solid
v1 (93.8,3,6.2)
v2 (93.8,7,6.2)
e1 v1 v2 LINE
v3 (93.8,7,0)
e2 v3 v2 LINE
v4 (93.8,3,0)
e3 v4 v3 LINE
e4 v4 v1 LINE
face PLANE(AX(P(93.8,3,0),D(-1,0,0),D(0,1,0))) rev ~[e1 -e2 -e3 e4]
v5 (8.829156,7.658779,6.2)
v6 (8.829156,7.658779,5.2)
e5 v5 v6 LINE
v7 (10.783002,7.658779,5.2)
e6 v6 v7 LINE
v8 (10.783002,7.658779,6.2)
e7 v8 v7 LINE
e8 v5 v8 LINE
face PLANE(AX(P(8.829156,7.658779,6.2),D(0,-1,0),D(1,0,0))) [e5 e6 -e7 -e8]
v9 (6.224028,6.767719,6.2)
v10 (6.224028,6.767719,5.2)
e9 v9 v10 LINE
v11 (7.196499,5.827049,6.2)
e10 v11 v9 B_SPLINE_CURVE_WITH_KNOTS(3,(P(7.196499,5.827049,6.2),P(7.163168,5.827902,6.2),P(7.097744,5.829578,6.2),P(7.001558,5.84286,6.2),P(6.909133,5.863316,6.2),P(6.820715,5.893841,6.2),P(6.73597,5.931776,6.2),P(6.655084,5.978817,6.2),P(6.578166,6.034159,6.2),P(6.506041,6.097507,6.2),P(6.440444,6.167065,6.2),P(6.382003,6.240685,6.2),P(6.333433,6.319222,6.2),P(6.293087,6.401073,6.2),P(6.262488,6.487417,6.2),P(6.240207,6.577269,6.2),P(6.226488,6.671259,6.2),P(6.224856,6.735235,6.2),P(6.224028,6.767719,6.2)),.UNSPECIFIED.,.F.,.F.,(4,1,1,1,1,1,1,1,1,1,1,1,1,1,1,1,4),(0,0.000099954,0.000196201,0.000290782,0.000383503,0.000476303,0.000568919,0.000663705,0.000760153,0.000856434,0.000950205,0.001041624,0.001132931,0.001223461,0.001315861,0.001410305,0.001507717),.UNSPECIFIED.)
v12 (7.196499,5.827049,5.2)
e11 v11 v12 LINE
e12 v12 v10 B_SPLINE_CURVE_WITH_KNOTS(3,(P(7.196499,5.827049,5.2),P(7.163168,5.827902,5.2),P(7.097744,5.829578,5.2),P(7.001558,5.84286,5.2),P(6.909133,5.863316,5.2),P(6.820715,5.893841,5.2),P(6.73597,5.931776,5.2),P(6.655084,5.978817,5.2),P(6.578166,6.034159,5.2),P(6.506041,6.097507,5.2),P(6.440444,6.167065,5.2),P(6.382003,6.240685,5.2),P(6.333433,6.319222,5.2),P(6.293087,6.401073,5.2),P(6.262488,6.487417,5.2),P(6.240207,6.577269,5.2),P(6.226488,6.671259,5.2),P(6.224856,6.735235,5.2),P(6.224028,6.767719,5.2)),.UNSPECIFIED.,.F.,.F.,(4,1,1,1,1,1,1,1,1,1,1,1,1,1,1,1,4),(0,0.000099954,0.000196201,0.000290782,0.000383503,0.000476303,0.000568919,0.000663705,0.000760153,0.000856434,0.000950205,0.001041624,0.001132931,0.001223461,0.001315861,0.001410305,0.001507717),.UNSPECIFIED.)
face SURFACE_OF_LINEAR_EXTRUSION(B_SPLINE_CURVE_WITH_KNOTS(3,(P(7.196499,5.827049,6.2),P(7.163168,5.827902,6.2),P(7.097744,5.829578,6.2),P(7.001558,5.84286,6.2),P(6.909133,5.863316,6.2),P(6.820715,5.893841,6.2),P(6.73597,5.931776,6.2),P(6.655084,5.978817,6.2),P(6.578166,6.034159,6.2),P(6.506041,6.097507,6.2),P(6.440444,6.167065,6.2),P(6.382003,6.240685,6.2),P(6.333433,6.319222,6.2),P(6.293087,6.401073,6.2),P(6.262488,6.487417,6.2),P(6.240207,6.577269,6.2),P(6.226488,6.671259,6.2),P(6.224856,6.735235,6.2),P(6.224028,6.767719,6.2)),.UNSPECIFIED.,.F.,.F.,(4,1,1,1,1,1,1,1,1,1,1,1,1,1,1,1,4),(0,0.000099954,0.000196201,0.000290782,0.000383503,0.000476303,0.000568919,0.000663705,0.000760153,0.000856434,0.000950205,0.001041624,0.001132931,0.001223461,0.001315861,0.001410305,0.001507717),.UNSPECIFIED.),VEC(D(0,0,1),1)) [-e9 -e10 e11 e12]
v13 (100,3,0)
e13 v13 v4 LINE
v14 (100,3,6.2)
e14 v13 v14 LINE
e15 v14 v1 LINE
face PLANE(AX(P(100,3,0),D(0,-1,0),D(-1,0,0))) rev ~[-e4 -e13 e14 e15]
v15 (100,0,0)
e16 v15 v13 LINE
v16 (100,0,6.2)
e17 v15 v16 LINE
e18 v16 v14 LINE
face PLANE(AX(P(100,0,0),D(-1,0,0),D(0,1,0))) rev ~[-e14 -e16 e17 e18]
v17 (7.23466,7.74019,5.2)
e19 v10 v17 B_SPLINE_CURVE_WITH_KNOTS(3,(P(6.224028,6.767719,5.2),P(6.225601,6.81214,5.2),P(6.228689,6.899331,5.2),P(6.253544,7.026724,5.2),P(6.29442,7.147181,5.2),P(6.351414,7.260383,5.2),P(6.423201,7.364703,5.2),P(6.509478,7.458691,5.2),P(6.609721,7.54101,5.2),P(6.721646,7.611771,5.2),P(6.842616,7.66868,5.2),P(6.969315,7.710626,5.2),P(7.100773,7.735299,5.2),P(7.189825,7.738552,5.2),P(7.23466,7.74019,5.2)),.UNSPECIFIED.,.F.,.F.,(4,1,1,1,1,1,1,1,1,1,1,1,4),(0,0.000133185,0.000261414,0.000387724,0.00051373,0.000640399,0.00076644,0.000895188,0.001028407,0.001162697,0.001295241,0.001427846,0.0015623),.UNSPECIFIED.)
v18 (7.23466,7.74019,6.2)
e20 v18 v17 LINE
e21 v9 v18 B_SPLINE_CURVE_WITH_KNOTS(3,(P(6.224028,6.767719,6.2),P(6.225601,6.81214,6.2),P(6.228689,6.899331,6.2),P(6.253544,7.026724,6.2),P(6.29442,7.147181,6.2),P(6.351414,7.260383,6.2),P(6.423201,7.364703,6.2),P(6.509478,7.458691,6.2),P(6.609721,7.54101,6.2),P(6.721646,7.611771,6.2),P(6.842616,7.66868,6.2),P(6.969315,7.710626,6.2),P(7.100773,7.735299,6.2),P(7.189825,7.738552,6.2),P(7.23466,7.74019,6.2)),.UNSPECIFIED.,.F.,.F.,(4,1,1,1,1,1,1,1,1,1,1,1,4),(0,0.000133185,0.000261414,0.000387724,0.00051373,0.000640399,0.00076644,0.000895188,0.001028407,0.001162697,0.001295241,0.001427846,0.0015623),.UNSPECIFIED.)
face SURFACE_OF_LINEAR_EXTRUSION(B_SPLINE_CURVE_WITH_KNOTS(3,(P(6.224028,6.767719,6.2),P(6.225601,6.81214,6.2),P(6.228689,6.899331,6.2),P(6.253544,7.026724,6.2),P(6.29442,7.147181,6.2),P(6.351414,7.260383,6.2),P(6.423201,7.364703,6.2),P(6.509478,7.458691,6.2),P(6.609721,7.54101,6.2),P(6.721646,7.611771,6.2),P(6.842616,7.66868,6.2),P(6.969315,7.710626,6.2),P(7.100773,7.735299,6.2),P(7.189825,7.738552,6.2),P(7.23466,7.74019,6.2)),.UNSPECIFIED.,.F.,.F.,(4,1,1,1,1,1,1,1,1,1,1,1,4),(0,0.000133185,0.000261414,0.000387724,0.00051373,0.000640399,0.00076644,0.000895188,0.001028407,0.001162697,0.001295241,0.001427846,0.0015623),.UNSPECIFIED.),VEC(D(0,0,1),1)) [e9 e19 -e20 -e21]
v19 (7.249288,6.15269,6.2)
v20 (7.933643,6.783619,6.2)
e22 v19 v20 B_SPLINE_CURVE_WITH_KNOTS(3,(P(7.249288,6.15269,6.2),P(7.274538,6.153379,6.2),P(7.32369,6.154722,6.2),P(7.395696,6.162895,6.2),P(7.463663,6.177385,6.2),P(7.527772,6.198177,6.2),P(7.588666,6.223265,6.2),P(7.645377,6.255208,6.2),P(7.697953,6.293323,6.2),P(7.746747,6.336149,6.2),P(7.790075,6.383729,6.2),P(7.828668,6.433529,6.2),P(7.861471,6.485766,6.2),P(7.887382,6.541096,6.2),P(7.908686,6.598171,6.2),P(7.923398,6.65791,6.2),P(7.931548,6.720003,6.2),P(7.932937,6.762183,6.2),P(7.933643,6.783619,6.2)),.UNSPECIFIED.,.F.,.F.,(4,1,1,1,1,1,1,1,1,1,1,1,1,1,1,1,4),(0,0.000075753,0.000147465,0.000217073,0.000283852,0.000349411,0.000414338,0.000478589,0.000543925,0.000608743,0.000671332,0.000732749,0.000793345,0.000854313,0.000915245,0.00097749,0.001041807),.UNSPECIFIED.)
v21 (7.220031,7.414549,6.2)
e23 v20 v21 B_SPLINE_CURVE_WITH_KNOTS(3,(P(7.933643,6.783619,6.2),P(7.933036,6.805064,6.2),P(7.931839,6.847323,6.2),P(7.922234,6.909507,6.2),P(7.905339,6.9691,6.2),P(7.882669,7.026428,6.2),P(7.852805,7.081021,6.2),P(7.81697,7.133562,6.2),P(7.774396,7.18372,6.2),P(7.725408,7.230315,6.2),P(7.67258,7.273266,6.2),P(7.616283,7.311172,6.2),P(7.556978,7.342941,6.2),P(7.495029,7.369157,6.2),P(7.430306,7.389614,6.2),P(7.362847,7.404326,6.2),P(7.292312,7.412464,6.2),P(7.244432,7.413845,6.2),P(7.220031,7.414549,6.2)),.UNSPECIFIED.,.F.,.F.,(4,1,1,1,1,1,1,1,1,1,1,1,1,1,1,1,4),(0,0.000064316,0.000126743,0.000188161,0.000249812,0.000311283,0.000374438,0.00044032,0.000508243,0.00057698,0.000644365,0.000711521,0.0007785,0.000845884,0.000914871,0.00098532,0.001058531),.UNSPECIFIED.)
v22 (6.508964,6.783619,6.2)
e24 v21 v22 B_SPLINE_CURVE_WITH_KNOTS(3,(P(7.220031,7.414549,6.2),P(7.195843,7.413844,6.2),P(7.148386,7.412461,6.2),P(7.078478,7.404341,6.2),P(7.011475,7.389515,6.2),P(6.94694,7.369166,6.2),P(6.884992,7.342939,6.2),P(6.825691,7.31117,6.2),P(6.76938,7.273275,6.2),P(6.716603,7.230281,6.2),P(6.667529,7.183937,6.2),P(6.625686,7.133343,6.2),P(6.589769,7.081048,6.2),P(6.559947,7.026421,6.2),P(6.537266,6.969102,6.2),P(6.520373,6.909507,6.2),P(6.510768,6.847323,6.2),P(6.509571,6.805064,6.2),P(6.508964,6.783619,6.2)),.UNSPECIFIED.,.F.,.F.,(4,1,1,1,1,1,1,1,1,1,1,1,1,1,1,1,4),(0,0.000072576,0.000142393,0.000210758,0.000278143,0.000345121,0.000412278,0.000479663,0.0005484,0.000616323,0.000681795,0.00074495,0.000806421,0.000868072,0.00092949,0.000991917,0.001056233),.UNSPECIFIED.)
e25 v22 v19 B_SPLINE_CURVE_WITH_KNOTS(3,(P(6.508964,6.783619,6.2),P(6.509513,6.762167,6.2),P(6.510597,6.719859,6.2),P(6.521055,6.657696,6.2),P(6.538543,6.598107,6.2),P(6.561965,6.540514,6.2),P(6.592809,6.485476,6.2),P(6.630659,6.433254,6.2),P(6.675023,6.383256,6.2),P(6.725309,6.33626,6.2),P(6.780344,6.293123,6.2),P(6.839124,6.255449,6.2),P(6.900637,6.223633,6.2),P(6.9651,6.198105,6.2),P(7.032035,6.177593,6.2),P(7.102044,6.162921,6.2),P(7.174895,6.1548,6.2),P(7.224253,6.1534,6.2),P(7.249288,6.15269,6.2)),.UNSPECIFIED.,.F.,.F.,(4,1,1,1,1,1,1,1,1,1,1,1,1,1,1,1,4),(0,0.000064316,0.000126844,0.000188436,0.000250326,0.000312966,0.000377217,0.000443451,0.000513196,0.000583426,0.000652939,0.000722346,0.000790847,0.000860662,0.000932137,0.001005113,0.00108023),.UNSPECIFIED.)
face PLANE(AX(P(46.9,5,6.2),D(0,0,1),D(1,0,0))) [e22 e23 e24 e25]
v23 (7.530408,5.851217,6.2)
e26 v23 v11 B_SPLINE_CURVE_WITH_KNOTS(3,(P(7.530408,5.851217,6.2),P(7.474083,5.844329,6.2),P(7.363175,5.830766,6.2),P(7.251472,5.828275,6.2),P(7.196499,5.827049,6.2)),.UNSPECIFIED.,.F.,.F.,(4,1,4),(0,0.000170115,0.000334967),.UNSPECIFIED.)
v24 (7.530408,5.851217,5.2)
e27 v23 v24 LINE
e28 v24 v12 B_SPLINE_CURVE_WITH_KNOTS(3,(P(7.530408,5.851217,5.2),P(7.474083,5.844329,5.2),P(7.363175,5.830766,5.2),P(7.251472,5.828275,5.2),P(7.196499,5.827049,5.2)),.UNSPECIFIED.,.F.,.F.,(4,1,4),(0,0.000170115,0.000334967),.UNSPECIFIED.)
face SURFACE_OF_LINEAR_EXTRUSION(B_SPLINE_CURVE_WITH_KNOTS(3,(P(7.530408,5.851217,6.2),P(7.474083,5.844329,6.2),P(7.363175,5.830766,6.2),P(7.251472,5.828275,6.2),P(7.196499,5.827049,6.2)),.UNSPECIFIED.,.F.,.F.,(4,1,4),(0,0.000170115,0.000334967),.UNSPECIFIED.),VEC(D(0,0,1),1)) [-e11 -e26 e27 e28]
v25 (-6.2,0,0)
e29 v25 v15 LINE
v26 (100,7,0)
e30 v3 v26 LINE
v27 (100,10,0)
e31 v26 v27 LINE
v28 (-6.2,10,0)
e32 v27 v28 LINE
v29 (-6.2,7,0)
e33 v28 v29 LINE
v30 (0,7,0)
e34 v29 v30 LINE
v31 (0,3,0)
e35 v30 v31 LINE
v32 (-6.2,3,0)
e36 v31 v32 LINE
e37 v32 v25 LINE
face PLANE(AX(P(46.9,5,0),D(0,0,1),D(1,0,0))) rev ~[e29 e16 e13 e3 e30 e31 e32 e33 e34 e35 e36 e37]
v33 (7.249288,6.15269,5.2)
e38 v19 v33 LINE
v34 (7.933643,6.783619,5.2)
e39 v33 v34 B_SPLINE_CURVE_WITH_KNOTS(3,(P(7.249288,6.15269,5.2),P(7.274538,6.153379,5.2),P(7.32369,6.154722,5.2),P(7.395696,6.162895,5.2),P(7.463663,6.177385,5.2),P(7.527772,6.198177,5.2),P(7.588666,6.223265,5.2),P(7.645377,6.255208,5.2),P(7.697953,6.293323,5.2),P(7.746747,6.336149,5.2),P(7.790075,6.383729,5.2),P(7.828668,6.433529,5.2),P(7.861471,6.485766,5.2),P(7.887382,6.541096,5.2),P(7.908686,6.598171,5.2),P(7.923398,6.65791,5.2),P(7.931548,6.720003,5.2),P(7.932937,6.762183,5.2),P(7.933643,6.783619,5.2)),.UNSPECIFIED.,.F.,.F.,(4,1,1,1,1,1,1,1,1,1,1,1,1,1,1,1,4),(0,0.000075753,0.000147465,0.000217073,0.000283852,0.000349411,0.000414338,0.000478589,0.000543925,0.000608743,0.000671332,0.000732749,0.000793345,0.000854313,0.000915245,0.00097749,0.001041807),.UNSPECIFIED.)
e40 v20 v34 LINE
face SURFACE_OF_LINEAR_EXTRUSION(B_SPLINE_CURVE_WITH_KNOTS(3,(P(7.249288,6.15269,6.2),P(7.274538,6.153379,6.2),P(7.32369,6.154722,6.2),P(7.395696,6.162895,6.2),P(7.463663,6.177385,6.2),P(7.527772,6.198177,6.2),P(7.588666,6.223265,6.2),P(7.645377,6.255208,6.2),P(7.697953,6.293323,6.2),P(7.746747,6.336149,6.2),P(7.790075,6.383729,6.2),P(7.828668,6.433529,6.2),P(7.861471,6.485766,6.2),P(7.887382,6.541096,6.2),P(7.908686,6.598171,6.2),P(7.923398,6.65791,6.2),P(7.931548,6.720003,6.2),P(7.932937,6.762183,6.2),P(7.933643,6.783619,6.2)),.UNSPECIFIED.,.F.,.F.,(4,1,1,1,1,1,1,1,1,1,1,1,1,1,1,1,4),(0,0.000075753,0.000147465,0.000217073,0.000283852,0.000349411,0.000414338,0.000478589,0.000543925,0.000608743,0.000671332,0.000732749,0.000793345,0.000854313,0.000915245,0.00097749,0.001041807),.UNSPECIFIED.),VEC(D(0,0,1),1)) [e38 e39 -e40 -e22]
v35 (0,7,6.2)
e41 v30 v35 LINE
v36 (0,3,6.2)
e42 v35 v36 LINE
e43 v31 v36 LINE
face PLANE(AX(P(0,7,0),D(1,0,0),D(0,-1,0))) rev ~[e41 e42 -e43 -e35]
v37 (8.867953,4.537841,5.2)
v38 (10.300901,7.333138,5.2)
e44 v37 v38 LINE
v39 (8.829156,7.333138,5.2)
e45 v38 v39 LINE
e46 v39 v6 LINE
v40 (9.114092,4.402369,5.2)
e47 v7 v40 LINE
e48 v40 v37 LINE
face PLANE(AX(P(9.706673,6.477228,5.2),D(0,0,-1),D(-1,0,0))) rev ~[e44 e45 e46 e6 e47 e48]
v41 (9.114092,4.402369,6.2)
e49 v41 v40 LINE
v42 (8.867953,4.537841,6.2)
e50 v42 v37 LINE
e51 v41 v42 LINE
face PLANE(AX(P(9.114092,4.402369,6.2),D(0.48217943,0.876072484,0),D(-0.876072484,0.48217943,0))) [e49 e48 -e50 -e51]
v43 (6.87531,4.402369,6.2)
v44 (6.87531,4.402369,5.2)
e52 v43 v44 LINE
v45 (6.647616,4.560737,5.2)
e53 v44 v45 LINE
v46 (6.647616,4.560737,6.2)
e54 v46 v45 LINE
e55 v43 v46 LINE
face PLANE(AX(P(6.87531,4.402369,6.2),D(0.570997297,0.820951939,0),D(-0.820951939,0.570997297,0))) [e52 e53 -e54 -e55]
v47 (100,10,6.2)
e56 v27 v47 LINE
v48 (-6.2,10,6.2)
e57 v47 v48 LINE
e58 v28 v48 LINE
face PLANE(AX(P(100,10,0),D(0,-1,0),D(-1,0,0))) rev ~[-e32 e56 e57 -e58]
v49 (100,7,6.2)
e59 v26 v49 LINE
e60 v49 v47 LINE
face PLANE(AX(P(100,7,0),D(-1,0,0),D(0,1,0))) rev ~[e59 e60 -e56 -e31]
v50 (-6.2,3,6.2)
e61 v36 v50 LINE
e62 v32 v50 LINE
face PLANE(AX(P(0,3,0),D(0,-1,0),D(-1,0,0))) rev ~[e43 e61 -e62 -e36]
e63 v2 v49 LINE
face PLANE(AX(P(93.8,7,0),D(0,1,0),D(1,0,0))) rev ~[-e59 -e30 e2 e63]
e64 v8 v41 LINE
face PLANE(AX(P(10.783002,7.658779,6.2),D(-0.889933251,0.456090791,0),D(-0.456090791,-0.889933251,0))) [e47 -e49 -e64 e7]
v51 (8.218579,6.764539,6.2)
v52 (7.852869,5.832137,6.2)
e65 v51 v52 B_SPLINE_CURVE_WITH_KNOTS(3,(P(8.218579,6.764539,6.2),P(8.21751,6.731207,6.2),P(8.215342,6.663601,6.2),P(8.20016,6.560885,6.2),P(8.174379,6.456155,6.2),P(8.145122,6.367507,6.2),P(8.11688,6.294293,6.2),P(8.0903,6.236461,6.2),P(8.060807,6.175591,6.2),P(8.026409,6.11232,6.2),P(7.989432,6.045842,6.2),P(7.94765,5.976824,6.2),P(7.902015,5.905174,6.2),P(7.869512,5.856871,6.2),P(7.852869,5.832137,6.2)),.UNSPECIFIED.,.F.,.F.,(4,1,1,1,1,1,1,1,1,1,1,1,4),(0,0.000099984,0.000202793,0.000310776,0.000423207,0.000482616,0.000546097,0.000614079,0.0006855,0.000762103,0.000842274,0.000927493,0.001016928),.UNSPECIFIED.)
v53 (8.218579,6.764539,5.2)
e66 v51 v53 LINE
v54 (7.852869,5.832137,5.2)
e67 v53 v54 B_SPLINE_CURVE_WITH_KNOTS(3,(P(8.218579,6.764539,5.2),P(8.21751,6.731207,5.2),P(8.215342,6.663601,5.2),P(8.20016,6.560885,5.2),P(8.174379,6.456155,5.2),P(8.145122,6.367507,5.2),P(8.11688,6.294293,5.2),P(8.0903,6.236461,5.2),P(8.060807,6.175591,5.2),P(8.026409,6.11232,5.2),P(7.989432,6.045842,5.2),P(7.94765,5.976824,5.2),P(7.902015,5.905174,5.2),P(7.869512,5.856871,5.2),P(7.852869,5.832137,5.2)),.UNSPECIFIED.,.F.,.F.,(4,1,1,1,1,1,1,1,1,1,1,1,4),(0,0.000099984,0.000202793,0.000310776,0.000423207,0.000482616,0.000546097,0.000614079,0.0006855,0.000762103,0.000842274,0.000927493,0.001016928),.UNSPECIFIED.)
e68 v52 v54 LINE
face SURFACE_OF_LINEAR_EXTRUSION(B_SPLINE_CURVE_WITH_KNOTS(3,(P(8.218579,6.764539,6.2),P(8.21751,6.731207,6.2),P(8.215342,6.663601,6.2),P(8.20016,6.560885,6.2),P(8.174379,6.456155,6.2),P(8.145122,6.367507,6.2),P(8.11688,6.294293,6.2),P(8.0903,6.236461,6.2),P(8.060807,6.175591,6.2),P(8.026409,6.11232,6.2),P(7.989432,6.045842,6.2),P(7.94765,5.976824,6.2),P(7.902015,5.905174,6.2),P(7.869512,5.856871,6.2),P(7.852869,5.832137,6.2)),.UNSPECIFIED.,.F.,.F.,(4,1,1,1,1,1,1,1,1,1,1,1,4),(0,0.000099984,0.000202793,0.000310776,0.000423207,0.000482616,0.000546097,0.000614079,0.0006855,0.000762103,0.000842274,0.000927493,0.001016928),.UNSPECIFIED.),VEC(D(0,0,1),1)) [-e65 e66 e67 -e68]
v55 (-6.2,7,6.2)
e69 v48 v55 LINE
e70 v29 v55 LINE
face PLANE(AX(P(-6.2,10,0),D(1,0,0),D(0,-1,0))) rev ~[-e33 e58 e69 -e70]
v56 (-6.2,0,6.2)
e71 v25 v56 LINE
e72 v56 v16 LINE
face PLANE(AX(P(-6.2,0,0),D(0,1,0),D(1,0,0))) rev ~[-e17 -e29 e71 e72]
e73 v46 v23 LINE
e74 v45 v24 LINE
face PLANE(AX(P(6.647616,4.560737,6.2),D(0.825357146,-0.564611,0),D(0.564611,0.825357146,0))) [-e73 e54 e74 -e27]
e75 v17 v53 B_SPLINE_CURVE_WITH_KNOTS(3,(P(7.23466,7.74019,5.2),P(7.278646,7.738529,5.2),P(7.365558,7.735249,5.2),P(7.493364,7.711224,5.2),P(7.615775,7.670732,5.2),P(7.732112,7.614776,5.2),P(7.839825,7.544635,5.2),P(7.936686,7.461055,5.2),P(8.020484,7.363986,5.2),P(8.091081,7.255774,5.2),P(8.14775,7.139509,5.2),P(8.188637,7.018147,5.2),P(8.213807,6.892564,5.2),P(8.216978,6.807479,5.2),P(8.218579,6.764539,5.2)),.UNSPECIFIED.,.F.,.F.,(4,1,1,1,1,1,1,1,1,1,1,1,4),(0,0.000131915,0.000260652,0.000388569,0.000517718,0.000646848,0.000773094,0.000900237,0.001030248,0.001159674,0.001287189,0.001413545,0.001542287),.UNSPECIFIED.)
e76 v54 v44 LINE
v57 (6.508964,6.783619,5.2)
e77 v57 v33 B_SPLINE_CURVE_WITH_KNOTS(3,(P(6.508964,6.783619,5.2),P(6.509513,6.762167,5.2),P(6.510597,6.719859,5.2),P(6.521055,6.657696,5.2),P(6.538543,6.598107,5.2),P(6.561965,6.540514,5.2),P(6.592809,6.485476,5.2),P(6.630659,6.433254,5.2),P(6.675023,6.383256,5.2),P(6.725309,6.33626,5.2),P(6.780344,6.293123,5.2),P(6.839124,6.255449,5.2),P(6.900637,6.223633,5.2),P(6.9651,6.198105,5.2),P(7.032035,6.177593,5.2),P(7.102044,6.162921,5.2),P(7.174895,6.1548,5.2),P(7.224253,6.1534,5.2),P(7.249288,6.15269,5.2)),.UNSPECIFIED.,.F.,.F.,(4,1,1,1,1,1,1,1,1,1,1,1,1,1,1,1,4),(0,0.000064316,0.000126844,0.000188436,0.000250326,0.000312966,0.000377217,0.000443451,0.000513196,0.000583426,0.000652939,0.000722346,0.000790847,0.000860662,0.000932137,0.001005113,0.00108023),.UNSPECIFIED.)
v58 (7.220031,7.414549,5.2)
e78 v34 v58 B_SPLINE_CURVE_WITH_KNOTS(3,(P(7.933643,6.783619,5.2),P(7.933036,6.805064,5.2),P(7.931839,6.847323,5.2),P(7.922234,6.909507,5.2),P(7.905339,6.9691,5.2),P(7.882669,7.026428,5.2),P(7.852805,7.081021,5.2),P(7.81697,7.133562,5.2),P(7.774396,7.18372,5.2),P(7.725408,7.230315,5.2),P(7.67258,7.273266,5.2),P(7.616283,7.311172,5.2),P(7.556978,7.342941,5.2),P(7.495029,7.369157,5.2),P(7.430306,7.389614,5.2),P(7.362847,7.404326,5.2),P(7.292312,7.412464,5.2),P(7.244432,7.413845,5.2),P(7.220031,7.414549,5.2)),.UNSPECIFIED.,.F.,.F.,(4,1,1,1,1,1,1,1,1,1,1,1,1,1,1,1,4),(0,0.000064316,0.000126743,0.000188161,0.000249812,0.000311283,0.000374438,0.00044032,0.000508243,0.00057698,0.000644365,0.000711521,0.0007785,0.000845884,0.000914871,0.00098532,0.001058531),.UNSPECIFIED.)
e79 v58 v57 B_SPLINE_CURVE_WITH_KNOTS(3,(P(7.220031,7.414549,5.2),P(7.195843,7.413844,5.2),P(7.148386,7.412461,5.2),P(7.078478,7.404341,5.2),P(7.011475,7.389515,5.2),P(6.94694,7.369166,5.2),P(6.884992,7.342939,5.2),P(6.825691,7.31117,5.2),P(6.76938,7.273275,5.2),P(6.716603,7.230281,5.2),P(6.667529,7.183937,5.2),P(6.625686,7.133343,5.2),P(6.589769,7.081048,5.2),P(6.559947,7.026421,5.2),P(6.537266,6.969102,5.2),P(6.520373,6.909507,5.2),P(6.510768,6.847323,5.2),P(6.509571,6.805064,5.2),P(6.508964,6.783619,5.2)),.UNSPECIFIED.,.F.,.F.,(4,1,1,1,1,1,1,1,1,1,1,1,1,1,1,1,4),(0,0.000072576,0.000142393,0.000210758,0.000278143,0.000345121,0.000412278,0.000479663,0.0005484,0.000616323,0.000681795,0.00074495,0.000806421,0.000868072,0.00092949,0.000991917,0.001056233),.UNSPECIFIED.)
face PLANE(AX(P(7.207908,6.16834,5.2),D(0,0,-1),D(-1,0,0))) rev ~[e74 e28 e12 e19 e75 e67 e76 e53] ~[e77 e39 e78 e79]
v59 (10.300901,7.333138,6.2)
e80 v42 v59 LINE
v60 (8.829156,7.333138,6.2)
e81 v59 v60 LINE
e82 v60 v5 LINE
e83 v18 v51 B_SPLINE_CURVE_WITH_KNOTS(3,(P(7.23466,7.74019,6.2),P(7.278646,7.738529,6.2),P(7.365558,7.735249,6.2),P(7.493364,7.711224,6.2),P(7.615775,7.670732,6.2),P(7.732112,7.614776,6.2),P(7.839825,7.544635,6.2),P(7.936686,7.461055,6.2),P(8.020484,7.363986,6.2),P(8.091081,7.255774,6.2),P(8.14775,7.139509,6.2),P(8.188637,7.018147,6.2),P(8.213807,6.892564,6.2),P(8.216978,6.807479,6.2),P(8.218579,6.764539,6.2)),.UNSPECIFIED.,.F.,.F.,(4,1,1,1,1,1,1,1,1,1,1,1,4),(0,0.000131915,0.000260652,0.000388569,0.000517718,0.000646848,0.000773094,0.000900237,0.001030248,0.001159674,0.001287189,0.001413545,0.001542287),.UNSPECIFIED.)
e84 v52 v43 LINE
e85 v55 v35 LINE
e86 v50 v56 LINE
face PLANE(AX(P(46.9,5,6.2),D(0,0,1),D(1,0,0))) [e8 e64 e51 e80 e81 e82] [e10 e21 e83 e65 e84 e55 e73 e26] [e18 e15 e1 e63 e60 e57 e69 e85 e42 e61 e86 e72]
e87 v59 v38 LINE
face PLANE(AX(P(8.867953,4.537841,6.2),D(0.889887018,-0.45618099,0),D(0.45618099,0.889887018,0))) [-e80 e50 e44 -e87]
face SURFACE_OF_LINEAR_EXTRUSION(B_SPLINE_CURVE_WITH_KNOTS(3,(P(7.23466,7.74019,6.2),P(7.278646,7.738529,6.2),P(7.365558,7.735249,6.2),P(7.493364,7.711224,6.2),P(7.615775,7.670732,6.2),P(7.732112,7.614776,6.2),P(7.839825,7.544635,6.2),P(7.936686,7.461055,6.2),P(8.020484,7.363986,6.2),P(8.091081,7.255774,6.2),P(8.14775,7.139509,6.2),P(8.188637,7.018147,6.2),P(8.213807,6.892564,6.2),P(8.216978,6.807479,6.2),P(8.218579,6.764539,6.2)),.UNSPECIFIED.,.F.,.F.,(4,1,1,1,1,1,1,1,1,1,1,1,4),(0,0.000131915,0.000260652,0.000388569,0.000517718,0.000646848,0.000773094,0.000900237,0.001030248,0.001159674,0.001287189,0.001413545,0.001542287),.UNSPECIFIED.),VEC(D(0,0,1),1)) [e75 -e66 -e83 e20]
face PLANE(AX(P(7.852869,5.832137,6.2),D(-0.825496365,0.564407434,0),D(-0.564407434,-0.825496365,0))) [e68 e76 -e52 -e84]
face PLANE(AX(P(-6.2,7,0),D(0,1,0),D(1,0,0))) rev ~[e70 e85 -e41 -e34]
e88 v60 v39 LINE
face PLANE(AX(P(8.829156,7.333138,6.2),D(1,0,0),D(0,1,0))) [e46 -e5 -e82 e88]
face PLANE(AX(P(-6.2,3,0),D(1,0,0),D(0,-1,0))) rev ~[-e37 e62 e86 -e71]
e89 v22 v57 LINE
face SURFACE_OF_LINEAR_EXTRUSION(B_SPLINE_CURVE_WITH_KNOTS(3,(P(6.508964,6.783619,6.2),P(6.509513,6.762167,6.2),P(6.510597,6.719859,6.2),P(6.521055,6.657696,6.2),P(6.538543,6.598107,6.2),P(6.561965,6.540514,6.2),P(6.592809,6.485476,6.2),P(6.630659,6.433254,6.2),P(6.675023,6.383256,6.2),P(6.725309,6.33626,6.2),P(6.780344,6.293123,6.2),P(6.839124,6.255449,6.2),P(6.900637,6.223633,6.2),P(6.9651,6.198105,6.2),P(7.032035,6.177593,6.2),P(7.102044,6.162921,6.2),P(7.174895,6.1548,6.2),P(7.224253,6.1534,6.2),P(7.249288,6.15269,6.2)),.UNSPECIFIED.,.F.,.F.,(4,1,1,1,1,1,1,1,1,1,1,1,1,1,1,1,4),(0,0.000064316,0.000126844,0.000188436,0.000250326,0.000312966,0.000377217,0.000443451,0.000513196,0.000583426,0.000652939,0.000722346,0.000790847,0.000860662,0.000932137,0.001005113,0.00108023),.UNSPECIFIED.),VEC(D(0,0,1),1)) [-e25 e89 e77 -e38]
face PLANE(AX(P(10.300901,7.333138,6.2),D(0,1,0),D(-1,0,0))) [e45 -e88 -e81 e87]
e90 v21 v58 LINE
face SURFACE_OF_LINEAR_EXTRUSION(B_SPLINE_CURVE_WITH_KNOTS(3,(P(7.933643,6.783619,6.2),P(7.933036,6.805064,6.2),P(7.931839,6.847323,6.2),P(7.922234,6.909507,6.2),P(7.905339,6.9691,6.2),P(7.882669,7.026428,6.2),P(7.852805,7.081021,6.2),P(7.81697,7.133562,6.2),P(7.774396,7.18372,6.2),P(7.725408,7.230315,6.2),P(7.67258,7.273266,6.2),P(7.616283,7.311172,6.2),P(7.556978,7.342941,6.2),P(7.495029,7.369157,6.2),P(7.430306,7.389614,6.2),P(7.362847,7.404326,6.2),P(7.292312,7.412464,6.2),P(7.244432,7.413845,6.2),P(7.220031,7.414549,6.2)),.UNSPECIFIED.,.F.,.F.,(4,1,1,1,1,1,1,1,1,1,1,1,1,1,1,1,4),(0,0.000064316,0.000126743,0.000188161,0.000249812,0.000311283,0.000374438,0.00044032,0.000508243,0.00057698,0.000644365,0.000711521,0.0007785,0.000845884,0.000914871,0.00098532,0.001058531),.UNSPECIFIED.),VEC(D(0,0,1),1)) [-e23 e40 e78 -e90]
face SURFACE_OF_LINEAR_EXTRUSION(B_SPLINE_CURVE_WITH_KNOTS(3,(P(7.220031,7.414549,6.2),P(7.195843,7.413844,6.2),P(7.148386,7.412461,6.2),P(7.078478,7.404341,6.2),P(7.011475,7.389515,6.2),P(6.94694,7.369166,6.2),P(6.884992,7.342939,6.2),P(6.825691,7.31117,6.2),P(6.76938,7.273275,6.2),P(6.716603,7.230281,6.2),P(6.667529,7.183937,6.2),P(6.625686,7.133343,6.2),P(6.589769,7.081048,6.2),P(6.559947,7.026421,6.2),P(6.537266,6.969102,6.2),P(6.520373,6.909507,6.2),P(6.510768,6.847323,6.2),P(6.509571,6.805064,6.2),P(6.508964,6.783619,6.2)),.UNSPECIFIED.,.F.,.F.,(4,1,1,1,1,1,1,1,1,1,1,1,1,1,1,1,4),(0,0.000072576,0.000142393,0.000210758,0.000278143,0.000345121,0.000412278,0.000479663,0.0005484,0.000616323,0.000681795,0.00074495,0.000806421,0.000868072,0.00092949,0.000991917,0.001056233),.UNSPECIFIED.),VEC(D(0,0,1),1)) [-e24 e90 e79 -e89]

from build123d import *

# Parameters (mm, degrees)
BOSS_EXTRUDE1_DEPTH = 6.2
CUT_EXTRUDE1_DEPTH  = 1


with BuildPart() as part:
    # Sketch1 → Boss-Extrude1 (new body)
    with BuildSketch(Plane.XY):
        Polygon((0, 3), (-6.2, 3), (-6.2, 0), (100, 0), (100, 3), (93.8, 3), (93.8, 7), (100, 7), (100, 10), (-6.2, 10), (-6.2, 7), (0, 7), align=None)
    extrude(amount=BOSS_EXTRUDE1_DEPTH)

    # Sketch2 → Cut-Extrude1 (cut)
    with BuildSketch(Plane.XY.offset(6.2)):
        with BuildLine():
            Line((6.875309832, 4.402369049), (6.647615521, 4.560737438))
            Line((6.647615521, 4.560737438), (7.530407989, 5.851217206))
            add(Edge.make_bspline(
                [(7.530407989, 5.851217206), (7.474082821, 5.844329213), (7.363175427, 5.83076637), (7.251472484, 5.828274762), (7.196498734, 5.827048536)],
                knots=[0, 0, 0, 0, 0.000170115, 0.000334967, 0.000334967, 0.000334967, 0.000334967], degree=3))
            add(Edge.make_bspline(
                [(7.196498734, 5.827048536), (7.163168448, 5.827902227), (7.097744011, 5.829577947), (7.001558154, 5.842860159), (6.909133396, 5.863316346), (6.820714766, 5.893840574), (6.735969929, 5.931775664), (6.655083889, 5.978817383), (6.578165531, 6.034158805), (6.506040952, 6.097507304), (6.440443875, 6.167065252), (6.382002741, 6.240685014), (6.333433285, 6.319221787), (6.293086668, 6.401073486), (6.262488328, 6.487416569), (6.240206598, 6.577268525), (6.226488462, 6.671259086), (6.224856425, 6.735235454), (6.22402778, 6.767718608)],
                knots=[0, 0, 0, 0, 9.9954e-05, 0.000196201, 0.000290782, 0.000383503, 0.000476303, 0.000568919, 0.000663705, 0.000760153, 0.000856434, 0.000950205, 0.001041624, 0.001132931, 0.001223461, 0.001315861, 0.001410305, 0.001507717, 0.001507717, 0.001507717, 0.001507717], degree=3))
            add(Edge.make_bspline(
                [(6.22402778, 6.767718608), (6.225601161, 6.812140172), (6.228689387, 6.89933069), (6.253543756, 7.02672418), (6.294419921, 7.147180545), (6.351414234, 7.260383078), (6.423200731, 7.364703363), (6.509477809, 7.458691172), (6.609720691, 7.541009718), (6.721645809, 7.61177056), (6.842616049, 7.668680165), (6.969315474, 7.710625816), (7.100773283, 7.735298966), (7.189825384, 7.738551854), (7.234659792, 7.740189562)],
                knots=[0, 0, 0, 0, 0.000133185, 0.000261414, 0.000387724, 0.00051373, 0.000640399, 0.00076644, 0.000895188, 0.001028407, 0.001162697, 0.001295241, 0.001427846, 0.0015623, 0.0015623, 0.0015623, 0.0015623], degree=3))
            add(Edge.make_bspline(
                [(7.234659792, 7.740189562), (7.278645715, 7.738529342), (7.365557754, 7.735248905), (7.49336421, 7.711224162), (7.61577499, 7.670732323), (7.732111513, 7.614775612), (7.839825123, 7.544634503), (7.936686037, 7.461055328), (8.020483848, 7.363986028), (8.091081225, 7.255774326), (8.147750476, 7.139508565), (8.188637476, 7.018147435), (8.213806734, 6.892563738), (8.216978402, 6.807478751), (8.218579062, 6.76453852)],
                knots=[0, 0, 0, 0, 0.000131915, 0.000260652, 0.000388569, 0.000517718, 0.000646848, 0.000773094, 0.000900237, 0.001030248, 0.001159674, 0.001287189, 0.001413545, 0.001542287, 0.001542287, 0.001542287, 0.001542287], degree=3))
            add(Edge.make_bspline(
                [(8.218579062, 6.76453852), (8.217510077, 6.731206674), (8.215341908, 6.663601362), (8.200159687, 6.560885266), (8.174378519, 6.456154507), (8.14512162, 6.36750706), (8.116880297, 6.294292966), (8.090299985, 6.236461176), (8.060806817, 6.175590744), (8.02640908, 6.112319945), (7.989431853, 6.045842216), (7.947649509, 5.976824324), (7.902015169, 5.905173652), (7.869512495, 5.856870936), (7.852868926, 5.832136677)],
                knots=[0, 0, 0, 0, 9.9984e-05, 0.000202793, 0.000310776, 0.000423207, 0.000482616, 0.000546097, 0.000614079, 0.0006855, 0.000762103, 0.000842274, 0.000927493, 0.001016928, 0.001016928, 0.001016928, 0.001016928], degree=3))
            Line((7.852868926, 5.832136677), (6.875309832, 4.402369049))
        make_face()
        with BuildLine():
            add(Edge.make_bspline(
                [(7.249288197, 6.152689562), (7.274537624, 6.153379338), (7.323689675, 6.154722099), (7.395696225, 6.162894769), (7.463663181, 6.177385456), (7.5277721, 6.198176909), (7.588665789, 6.223265459), (7.64537703, 6.25520776), (7.697953284, 6.293322851), (7.746746618, 6.336149079), (7.790075389, 6.383729251), (7.828667995, 6.43352877), (7.861470796, 6.485766237), (7.887381769, 6.541095839), (7.908685633, 6.598170736), (7.923397687, 6.657910044), (7.931547761, 6.720002521), (7.932937118, 6.762183447), (7.933643165, 6.783619049)],
                knots=[0, 0, 0, 0, 7.5753e-05, 0.000147465, 0.000217073, 0.000283852, 0.000349411, 0.000414338, 0.000478589, 0.000543925, 0.000608743, 0.000671332, 0.000732749, 0.000793345, 0.000854313, 0.000915245, 0.00097749, 0.001041807, 0.001041807, 0.001041807, 0.001041807], degree=3))
            add(Edge.make_bspline(
                [(7.933643165, 6.783619049), (7.933035679, 6.805063602), (7.931838555, 6.847322725), (7.922234361, 6.909507132), (7.905338623, 6.969100305), (7.882668683, 7.026428495), (7.852805325, 7.081020689), (7.81697002, 7.133562287), (7.774395583, 7.183720146), (7.725407541, 7.230314617), (7.672580482, 7.273265925), (7.616282743, 7.311171866), (7.556978355, 7.342941094), (7.495029125, 7.369156588), (7.43030598, 7.38961427), (7.362847219, 7.404325737), (7.292311958, 7.4124644), (7.244431791, 7.413844975), (7.220031386, 7.414548536)],
                knots=[0, 0, 0, 0, 6.4316e-05, 0.000126743, 0.000188161, 0.000249812, 0.000311283, 0.000374438, 0.00044032, 0.000508243, 0.00057698, 0.000644365, 0.000711521, 0.0007785, 0.000845884, 0.000914871, 0.00098532, 0.001058531, 0.001058531, 0.001058531, 0.001058531], degree=3))
            add(Edge.make_bspline(
                [(7.220031386, 7.414548536), (7.19584319, 7.413843839), (7.148386148, 7.412461228), (7.078477946, 7.404341207), (7.011475315, 7.389515332), (6.946939703, 7.369166064), (6.884992313, 7.342939138), (6.825690722, 7.311170201), (6.769379814, 7.273274651), (6.716603403, 7.230280821), (6.66752886, 7.183937028), (6.625686416, 7.133342561), (6.589769099, 7.08104802), (6.559946775, 7.026421231), (6.53726592, 6.969102243), (6.520373105, 6.909506607), (6.510768126, 6.847322862), (6.509571109, 6.805063648), (6.508963678, 6.783619049)],
                knots=[0, 0, 0, 0, 7.2576e-05, 0.000142393, 0.000210758, 0.000278143, 0.000345121, 0.000412278, 0.000479663, 0.0005484, 0.000616323, 0.000681795, 0.00074495, 0.000806421, 0.000868072, 0.00092949, 0.000991917, 0.001056233, 0.001056233, 0.001056233, 0.001056233], degree=3))
            add(Edge.make_bspline(
                [(6.508963678, 6.783619049), (6.509513339, 6.762166754), (6.510597373, 6.719858903), (6.521054725, 6.657695675), (6.538542879, 6.598107099), (6.561964754, 6.540513772), (6.592809054, 6.48547573), (6.630658545, 6.433253908), (6.675022861, 6.383256321), (6.725308954, 6.336259779), (6.780343643, 6.293123163), (6.839123548, 6.255449173), (6.900636757, 6.223633456), (6.965099808, 6.198105201), (7.032034976, 6.177593192), (7.102043846, 6.162921475), (7.17489489, 6.154800491), (7.224252516, 6.153399956), (7.249288197, 6.152689562)],
                knots=[0, 0, 0, 0, 6.4316e-05, 0.000126844, 0.000188436, 0.000250326, 0.000312966, 0.000377217, 0.000443451, 0.000513196, 0.000583426, 0.000652939, 0.000722346, 0.000790847, 0.000860662, 0.000932137, 0.001005113, 0.00108023, 0.00108023, 0.00108023, 0.00108023], degree=3))
        make_face(mode=Mode.SUBTRACT)
        Polygon((8.829155986, 7.658779305), (10.783002139, 7.658779305), (9.114091883, 4.402369049), (8.867953061, 4.537840804), (10.300900777, 7.33313828), (8.829155986, 7.33313828), align=None)
    extrude(amount=-CUT_EXTRUDE1_DEPTH, mode=Mode.SUBTRACT)


solid = part.part
